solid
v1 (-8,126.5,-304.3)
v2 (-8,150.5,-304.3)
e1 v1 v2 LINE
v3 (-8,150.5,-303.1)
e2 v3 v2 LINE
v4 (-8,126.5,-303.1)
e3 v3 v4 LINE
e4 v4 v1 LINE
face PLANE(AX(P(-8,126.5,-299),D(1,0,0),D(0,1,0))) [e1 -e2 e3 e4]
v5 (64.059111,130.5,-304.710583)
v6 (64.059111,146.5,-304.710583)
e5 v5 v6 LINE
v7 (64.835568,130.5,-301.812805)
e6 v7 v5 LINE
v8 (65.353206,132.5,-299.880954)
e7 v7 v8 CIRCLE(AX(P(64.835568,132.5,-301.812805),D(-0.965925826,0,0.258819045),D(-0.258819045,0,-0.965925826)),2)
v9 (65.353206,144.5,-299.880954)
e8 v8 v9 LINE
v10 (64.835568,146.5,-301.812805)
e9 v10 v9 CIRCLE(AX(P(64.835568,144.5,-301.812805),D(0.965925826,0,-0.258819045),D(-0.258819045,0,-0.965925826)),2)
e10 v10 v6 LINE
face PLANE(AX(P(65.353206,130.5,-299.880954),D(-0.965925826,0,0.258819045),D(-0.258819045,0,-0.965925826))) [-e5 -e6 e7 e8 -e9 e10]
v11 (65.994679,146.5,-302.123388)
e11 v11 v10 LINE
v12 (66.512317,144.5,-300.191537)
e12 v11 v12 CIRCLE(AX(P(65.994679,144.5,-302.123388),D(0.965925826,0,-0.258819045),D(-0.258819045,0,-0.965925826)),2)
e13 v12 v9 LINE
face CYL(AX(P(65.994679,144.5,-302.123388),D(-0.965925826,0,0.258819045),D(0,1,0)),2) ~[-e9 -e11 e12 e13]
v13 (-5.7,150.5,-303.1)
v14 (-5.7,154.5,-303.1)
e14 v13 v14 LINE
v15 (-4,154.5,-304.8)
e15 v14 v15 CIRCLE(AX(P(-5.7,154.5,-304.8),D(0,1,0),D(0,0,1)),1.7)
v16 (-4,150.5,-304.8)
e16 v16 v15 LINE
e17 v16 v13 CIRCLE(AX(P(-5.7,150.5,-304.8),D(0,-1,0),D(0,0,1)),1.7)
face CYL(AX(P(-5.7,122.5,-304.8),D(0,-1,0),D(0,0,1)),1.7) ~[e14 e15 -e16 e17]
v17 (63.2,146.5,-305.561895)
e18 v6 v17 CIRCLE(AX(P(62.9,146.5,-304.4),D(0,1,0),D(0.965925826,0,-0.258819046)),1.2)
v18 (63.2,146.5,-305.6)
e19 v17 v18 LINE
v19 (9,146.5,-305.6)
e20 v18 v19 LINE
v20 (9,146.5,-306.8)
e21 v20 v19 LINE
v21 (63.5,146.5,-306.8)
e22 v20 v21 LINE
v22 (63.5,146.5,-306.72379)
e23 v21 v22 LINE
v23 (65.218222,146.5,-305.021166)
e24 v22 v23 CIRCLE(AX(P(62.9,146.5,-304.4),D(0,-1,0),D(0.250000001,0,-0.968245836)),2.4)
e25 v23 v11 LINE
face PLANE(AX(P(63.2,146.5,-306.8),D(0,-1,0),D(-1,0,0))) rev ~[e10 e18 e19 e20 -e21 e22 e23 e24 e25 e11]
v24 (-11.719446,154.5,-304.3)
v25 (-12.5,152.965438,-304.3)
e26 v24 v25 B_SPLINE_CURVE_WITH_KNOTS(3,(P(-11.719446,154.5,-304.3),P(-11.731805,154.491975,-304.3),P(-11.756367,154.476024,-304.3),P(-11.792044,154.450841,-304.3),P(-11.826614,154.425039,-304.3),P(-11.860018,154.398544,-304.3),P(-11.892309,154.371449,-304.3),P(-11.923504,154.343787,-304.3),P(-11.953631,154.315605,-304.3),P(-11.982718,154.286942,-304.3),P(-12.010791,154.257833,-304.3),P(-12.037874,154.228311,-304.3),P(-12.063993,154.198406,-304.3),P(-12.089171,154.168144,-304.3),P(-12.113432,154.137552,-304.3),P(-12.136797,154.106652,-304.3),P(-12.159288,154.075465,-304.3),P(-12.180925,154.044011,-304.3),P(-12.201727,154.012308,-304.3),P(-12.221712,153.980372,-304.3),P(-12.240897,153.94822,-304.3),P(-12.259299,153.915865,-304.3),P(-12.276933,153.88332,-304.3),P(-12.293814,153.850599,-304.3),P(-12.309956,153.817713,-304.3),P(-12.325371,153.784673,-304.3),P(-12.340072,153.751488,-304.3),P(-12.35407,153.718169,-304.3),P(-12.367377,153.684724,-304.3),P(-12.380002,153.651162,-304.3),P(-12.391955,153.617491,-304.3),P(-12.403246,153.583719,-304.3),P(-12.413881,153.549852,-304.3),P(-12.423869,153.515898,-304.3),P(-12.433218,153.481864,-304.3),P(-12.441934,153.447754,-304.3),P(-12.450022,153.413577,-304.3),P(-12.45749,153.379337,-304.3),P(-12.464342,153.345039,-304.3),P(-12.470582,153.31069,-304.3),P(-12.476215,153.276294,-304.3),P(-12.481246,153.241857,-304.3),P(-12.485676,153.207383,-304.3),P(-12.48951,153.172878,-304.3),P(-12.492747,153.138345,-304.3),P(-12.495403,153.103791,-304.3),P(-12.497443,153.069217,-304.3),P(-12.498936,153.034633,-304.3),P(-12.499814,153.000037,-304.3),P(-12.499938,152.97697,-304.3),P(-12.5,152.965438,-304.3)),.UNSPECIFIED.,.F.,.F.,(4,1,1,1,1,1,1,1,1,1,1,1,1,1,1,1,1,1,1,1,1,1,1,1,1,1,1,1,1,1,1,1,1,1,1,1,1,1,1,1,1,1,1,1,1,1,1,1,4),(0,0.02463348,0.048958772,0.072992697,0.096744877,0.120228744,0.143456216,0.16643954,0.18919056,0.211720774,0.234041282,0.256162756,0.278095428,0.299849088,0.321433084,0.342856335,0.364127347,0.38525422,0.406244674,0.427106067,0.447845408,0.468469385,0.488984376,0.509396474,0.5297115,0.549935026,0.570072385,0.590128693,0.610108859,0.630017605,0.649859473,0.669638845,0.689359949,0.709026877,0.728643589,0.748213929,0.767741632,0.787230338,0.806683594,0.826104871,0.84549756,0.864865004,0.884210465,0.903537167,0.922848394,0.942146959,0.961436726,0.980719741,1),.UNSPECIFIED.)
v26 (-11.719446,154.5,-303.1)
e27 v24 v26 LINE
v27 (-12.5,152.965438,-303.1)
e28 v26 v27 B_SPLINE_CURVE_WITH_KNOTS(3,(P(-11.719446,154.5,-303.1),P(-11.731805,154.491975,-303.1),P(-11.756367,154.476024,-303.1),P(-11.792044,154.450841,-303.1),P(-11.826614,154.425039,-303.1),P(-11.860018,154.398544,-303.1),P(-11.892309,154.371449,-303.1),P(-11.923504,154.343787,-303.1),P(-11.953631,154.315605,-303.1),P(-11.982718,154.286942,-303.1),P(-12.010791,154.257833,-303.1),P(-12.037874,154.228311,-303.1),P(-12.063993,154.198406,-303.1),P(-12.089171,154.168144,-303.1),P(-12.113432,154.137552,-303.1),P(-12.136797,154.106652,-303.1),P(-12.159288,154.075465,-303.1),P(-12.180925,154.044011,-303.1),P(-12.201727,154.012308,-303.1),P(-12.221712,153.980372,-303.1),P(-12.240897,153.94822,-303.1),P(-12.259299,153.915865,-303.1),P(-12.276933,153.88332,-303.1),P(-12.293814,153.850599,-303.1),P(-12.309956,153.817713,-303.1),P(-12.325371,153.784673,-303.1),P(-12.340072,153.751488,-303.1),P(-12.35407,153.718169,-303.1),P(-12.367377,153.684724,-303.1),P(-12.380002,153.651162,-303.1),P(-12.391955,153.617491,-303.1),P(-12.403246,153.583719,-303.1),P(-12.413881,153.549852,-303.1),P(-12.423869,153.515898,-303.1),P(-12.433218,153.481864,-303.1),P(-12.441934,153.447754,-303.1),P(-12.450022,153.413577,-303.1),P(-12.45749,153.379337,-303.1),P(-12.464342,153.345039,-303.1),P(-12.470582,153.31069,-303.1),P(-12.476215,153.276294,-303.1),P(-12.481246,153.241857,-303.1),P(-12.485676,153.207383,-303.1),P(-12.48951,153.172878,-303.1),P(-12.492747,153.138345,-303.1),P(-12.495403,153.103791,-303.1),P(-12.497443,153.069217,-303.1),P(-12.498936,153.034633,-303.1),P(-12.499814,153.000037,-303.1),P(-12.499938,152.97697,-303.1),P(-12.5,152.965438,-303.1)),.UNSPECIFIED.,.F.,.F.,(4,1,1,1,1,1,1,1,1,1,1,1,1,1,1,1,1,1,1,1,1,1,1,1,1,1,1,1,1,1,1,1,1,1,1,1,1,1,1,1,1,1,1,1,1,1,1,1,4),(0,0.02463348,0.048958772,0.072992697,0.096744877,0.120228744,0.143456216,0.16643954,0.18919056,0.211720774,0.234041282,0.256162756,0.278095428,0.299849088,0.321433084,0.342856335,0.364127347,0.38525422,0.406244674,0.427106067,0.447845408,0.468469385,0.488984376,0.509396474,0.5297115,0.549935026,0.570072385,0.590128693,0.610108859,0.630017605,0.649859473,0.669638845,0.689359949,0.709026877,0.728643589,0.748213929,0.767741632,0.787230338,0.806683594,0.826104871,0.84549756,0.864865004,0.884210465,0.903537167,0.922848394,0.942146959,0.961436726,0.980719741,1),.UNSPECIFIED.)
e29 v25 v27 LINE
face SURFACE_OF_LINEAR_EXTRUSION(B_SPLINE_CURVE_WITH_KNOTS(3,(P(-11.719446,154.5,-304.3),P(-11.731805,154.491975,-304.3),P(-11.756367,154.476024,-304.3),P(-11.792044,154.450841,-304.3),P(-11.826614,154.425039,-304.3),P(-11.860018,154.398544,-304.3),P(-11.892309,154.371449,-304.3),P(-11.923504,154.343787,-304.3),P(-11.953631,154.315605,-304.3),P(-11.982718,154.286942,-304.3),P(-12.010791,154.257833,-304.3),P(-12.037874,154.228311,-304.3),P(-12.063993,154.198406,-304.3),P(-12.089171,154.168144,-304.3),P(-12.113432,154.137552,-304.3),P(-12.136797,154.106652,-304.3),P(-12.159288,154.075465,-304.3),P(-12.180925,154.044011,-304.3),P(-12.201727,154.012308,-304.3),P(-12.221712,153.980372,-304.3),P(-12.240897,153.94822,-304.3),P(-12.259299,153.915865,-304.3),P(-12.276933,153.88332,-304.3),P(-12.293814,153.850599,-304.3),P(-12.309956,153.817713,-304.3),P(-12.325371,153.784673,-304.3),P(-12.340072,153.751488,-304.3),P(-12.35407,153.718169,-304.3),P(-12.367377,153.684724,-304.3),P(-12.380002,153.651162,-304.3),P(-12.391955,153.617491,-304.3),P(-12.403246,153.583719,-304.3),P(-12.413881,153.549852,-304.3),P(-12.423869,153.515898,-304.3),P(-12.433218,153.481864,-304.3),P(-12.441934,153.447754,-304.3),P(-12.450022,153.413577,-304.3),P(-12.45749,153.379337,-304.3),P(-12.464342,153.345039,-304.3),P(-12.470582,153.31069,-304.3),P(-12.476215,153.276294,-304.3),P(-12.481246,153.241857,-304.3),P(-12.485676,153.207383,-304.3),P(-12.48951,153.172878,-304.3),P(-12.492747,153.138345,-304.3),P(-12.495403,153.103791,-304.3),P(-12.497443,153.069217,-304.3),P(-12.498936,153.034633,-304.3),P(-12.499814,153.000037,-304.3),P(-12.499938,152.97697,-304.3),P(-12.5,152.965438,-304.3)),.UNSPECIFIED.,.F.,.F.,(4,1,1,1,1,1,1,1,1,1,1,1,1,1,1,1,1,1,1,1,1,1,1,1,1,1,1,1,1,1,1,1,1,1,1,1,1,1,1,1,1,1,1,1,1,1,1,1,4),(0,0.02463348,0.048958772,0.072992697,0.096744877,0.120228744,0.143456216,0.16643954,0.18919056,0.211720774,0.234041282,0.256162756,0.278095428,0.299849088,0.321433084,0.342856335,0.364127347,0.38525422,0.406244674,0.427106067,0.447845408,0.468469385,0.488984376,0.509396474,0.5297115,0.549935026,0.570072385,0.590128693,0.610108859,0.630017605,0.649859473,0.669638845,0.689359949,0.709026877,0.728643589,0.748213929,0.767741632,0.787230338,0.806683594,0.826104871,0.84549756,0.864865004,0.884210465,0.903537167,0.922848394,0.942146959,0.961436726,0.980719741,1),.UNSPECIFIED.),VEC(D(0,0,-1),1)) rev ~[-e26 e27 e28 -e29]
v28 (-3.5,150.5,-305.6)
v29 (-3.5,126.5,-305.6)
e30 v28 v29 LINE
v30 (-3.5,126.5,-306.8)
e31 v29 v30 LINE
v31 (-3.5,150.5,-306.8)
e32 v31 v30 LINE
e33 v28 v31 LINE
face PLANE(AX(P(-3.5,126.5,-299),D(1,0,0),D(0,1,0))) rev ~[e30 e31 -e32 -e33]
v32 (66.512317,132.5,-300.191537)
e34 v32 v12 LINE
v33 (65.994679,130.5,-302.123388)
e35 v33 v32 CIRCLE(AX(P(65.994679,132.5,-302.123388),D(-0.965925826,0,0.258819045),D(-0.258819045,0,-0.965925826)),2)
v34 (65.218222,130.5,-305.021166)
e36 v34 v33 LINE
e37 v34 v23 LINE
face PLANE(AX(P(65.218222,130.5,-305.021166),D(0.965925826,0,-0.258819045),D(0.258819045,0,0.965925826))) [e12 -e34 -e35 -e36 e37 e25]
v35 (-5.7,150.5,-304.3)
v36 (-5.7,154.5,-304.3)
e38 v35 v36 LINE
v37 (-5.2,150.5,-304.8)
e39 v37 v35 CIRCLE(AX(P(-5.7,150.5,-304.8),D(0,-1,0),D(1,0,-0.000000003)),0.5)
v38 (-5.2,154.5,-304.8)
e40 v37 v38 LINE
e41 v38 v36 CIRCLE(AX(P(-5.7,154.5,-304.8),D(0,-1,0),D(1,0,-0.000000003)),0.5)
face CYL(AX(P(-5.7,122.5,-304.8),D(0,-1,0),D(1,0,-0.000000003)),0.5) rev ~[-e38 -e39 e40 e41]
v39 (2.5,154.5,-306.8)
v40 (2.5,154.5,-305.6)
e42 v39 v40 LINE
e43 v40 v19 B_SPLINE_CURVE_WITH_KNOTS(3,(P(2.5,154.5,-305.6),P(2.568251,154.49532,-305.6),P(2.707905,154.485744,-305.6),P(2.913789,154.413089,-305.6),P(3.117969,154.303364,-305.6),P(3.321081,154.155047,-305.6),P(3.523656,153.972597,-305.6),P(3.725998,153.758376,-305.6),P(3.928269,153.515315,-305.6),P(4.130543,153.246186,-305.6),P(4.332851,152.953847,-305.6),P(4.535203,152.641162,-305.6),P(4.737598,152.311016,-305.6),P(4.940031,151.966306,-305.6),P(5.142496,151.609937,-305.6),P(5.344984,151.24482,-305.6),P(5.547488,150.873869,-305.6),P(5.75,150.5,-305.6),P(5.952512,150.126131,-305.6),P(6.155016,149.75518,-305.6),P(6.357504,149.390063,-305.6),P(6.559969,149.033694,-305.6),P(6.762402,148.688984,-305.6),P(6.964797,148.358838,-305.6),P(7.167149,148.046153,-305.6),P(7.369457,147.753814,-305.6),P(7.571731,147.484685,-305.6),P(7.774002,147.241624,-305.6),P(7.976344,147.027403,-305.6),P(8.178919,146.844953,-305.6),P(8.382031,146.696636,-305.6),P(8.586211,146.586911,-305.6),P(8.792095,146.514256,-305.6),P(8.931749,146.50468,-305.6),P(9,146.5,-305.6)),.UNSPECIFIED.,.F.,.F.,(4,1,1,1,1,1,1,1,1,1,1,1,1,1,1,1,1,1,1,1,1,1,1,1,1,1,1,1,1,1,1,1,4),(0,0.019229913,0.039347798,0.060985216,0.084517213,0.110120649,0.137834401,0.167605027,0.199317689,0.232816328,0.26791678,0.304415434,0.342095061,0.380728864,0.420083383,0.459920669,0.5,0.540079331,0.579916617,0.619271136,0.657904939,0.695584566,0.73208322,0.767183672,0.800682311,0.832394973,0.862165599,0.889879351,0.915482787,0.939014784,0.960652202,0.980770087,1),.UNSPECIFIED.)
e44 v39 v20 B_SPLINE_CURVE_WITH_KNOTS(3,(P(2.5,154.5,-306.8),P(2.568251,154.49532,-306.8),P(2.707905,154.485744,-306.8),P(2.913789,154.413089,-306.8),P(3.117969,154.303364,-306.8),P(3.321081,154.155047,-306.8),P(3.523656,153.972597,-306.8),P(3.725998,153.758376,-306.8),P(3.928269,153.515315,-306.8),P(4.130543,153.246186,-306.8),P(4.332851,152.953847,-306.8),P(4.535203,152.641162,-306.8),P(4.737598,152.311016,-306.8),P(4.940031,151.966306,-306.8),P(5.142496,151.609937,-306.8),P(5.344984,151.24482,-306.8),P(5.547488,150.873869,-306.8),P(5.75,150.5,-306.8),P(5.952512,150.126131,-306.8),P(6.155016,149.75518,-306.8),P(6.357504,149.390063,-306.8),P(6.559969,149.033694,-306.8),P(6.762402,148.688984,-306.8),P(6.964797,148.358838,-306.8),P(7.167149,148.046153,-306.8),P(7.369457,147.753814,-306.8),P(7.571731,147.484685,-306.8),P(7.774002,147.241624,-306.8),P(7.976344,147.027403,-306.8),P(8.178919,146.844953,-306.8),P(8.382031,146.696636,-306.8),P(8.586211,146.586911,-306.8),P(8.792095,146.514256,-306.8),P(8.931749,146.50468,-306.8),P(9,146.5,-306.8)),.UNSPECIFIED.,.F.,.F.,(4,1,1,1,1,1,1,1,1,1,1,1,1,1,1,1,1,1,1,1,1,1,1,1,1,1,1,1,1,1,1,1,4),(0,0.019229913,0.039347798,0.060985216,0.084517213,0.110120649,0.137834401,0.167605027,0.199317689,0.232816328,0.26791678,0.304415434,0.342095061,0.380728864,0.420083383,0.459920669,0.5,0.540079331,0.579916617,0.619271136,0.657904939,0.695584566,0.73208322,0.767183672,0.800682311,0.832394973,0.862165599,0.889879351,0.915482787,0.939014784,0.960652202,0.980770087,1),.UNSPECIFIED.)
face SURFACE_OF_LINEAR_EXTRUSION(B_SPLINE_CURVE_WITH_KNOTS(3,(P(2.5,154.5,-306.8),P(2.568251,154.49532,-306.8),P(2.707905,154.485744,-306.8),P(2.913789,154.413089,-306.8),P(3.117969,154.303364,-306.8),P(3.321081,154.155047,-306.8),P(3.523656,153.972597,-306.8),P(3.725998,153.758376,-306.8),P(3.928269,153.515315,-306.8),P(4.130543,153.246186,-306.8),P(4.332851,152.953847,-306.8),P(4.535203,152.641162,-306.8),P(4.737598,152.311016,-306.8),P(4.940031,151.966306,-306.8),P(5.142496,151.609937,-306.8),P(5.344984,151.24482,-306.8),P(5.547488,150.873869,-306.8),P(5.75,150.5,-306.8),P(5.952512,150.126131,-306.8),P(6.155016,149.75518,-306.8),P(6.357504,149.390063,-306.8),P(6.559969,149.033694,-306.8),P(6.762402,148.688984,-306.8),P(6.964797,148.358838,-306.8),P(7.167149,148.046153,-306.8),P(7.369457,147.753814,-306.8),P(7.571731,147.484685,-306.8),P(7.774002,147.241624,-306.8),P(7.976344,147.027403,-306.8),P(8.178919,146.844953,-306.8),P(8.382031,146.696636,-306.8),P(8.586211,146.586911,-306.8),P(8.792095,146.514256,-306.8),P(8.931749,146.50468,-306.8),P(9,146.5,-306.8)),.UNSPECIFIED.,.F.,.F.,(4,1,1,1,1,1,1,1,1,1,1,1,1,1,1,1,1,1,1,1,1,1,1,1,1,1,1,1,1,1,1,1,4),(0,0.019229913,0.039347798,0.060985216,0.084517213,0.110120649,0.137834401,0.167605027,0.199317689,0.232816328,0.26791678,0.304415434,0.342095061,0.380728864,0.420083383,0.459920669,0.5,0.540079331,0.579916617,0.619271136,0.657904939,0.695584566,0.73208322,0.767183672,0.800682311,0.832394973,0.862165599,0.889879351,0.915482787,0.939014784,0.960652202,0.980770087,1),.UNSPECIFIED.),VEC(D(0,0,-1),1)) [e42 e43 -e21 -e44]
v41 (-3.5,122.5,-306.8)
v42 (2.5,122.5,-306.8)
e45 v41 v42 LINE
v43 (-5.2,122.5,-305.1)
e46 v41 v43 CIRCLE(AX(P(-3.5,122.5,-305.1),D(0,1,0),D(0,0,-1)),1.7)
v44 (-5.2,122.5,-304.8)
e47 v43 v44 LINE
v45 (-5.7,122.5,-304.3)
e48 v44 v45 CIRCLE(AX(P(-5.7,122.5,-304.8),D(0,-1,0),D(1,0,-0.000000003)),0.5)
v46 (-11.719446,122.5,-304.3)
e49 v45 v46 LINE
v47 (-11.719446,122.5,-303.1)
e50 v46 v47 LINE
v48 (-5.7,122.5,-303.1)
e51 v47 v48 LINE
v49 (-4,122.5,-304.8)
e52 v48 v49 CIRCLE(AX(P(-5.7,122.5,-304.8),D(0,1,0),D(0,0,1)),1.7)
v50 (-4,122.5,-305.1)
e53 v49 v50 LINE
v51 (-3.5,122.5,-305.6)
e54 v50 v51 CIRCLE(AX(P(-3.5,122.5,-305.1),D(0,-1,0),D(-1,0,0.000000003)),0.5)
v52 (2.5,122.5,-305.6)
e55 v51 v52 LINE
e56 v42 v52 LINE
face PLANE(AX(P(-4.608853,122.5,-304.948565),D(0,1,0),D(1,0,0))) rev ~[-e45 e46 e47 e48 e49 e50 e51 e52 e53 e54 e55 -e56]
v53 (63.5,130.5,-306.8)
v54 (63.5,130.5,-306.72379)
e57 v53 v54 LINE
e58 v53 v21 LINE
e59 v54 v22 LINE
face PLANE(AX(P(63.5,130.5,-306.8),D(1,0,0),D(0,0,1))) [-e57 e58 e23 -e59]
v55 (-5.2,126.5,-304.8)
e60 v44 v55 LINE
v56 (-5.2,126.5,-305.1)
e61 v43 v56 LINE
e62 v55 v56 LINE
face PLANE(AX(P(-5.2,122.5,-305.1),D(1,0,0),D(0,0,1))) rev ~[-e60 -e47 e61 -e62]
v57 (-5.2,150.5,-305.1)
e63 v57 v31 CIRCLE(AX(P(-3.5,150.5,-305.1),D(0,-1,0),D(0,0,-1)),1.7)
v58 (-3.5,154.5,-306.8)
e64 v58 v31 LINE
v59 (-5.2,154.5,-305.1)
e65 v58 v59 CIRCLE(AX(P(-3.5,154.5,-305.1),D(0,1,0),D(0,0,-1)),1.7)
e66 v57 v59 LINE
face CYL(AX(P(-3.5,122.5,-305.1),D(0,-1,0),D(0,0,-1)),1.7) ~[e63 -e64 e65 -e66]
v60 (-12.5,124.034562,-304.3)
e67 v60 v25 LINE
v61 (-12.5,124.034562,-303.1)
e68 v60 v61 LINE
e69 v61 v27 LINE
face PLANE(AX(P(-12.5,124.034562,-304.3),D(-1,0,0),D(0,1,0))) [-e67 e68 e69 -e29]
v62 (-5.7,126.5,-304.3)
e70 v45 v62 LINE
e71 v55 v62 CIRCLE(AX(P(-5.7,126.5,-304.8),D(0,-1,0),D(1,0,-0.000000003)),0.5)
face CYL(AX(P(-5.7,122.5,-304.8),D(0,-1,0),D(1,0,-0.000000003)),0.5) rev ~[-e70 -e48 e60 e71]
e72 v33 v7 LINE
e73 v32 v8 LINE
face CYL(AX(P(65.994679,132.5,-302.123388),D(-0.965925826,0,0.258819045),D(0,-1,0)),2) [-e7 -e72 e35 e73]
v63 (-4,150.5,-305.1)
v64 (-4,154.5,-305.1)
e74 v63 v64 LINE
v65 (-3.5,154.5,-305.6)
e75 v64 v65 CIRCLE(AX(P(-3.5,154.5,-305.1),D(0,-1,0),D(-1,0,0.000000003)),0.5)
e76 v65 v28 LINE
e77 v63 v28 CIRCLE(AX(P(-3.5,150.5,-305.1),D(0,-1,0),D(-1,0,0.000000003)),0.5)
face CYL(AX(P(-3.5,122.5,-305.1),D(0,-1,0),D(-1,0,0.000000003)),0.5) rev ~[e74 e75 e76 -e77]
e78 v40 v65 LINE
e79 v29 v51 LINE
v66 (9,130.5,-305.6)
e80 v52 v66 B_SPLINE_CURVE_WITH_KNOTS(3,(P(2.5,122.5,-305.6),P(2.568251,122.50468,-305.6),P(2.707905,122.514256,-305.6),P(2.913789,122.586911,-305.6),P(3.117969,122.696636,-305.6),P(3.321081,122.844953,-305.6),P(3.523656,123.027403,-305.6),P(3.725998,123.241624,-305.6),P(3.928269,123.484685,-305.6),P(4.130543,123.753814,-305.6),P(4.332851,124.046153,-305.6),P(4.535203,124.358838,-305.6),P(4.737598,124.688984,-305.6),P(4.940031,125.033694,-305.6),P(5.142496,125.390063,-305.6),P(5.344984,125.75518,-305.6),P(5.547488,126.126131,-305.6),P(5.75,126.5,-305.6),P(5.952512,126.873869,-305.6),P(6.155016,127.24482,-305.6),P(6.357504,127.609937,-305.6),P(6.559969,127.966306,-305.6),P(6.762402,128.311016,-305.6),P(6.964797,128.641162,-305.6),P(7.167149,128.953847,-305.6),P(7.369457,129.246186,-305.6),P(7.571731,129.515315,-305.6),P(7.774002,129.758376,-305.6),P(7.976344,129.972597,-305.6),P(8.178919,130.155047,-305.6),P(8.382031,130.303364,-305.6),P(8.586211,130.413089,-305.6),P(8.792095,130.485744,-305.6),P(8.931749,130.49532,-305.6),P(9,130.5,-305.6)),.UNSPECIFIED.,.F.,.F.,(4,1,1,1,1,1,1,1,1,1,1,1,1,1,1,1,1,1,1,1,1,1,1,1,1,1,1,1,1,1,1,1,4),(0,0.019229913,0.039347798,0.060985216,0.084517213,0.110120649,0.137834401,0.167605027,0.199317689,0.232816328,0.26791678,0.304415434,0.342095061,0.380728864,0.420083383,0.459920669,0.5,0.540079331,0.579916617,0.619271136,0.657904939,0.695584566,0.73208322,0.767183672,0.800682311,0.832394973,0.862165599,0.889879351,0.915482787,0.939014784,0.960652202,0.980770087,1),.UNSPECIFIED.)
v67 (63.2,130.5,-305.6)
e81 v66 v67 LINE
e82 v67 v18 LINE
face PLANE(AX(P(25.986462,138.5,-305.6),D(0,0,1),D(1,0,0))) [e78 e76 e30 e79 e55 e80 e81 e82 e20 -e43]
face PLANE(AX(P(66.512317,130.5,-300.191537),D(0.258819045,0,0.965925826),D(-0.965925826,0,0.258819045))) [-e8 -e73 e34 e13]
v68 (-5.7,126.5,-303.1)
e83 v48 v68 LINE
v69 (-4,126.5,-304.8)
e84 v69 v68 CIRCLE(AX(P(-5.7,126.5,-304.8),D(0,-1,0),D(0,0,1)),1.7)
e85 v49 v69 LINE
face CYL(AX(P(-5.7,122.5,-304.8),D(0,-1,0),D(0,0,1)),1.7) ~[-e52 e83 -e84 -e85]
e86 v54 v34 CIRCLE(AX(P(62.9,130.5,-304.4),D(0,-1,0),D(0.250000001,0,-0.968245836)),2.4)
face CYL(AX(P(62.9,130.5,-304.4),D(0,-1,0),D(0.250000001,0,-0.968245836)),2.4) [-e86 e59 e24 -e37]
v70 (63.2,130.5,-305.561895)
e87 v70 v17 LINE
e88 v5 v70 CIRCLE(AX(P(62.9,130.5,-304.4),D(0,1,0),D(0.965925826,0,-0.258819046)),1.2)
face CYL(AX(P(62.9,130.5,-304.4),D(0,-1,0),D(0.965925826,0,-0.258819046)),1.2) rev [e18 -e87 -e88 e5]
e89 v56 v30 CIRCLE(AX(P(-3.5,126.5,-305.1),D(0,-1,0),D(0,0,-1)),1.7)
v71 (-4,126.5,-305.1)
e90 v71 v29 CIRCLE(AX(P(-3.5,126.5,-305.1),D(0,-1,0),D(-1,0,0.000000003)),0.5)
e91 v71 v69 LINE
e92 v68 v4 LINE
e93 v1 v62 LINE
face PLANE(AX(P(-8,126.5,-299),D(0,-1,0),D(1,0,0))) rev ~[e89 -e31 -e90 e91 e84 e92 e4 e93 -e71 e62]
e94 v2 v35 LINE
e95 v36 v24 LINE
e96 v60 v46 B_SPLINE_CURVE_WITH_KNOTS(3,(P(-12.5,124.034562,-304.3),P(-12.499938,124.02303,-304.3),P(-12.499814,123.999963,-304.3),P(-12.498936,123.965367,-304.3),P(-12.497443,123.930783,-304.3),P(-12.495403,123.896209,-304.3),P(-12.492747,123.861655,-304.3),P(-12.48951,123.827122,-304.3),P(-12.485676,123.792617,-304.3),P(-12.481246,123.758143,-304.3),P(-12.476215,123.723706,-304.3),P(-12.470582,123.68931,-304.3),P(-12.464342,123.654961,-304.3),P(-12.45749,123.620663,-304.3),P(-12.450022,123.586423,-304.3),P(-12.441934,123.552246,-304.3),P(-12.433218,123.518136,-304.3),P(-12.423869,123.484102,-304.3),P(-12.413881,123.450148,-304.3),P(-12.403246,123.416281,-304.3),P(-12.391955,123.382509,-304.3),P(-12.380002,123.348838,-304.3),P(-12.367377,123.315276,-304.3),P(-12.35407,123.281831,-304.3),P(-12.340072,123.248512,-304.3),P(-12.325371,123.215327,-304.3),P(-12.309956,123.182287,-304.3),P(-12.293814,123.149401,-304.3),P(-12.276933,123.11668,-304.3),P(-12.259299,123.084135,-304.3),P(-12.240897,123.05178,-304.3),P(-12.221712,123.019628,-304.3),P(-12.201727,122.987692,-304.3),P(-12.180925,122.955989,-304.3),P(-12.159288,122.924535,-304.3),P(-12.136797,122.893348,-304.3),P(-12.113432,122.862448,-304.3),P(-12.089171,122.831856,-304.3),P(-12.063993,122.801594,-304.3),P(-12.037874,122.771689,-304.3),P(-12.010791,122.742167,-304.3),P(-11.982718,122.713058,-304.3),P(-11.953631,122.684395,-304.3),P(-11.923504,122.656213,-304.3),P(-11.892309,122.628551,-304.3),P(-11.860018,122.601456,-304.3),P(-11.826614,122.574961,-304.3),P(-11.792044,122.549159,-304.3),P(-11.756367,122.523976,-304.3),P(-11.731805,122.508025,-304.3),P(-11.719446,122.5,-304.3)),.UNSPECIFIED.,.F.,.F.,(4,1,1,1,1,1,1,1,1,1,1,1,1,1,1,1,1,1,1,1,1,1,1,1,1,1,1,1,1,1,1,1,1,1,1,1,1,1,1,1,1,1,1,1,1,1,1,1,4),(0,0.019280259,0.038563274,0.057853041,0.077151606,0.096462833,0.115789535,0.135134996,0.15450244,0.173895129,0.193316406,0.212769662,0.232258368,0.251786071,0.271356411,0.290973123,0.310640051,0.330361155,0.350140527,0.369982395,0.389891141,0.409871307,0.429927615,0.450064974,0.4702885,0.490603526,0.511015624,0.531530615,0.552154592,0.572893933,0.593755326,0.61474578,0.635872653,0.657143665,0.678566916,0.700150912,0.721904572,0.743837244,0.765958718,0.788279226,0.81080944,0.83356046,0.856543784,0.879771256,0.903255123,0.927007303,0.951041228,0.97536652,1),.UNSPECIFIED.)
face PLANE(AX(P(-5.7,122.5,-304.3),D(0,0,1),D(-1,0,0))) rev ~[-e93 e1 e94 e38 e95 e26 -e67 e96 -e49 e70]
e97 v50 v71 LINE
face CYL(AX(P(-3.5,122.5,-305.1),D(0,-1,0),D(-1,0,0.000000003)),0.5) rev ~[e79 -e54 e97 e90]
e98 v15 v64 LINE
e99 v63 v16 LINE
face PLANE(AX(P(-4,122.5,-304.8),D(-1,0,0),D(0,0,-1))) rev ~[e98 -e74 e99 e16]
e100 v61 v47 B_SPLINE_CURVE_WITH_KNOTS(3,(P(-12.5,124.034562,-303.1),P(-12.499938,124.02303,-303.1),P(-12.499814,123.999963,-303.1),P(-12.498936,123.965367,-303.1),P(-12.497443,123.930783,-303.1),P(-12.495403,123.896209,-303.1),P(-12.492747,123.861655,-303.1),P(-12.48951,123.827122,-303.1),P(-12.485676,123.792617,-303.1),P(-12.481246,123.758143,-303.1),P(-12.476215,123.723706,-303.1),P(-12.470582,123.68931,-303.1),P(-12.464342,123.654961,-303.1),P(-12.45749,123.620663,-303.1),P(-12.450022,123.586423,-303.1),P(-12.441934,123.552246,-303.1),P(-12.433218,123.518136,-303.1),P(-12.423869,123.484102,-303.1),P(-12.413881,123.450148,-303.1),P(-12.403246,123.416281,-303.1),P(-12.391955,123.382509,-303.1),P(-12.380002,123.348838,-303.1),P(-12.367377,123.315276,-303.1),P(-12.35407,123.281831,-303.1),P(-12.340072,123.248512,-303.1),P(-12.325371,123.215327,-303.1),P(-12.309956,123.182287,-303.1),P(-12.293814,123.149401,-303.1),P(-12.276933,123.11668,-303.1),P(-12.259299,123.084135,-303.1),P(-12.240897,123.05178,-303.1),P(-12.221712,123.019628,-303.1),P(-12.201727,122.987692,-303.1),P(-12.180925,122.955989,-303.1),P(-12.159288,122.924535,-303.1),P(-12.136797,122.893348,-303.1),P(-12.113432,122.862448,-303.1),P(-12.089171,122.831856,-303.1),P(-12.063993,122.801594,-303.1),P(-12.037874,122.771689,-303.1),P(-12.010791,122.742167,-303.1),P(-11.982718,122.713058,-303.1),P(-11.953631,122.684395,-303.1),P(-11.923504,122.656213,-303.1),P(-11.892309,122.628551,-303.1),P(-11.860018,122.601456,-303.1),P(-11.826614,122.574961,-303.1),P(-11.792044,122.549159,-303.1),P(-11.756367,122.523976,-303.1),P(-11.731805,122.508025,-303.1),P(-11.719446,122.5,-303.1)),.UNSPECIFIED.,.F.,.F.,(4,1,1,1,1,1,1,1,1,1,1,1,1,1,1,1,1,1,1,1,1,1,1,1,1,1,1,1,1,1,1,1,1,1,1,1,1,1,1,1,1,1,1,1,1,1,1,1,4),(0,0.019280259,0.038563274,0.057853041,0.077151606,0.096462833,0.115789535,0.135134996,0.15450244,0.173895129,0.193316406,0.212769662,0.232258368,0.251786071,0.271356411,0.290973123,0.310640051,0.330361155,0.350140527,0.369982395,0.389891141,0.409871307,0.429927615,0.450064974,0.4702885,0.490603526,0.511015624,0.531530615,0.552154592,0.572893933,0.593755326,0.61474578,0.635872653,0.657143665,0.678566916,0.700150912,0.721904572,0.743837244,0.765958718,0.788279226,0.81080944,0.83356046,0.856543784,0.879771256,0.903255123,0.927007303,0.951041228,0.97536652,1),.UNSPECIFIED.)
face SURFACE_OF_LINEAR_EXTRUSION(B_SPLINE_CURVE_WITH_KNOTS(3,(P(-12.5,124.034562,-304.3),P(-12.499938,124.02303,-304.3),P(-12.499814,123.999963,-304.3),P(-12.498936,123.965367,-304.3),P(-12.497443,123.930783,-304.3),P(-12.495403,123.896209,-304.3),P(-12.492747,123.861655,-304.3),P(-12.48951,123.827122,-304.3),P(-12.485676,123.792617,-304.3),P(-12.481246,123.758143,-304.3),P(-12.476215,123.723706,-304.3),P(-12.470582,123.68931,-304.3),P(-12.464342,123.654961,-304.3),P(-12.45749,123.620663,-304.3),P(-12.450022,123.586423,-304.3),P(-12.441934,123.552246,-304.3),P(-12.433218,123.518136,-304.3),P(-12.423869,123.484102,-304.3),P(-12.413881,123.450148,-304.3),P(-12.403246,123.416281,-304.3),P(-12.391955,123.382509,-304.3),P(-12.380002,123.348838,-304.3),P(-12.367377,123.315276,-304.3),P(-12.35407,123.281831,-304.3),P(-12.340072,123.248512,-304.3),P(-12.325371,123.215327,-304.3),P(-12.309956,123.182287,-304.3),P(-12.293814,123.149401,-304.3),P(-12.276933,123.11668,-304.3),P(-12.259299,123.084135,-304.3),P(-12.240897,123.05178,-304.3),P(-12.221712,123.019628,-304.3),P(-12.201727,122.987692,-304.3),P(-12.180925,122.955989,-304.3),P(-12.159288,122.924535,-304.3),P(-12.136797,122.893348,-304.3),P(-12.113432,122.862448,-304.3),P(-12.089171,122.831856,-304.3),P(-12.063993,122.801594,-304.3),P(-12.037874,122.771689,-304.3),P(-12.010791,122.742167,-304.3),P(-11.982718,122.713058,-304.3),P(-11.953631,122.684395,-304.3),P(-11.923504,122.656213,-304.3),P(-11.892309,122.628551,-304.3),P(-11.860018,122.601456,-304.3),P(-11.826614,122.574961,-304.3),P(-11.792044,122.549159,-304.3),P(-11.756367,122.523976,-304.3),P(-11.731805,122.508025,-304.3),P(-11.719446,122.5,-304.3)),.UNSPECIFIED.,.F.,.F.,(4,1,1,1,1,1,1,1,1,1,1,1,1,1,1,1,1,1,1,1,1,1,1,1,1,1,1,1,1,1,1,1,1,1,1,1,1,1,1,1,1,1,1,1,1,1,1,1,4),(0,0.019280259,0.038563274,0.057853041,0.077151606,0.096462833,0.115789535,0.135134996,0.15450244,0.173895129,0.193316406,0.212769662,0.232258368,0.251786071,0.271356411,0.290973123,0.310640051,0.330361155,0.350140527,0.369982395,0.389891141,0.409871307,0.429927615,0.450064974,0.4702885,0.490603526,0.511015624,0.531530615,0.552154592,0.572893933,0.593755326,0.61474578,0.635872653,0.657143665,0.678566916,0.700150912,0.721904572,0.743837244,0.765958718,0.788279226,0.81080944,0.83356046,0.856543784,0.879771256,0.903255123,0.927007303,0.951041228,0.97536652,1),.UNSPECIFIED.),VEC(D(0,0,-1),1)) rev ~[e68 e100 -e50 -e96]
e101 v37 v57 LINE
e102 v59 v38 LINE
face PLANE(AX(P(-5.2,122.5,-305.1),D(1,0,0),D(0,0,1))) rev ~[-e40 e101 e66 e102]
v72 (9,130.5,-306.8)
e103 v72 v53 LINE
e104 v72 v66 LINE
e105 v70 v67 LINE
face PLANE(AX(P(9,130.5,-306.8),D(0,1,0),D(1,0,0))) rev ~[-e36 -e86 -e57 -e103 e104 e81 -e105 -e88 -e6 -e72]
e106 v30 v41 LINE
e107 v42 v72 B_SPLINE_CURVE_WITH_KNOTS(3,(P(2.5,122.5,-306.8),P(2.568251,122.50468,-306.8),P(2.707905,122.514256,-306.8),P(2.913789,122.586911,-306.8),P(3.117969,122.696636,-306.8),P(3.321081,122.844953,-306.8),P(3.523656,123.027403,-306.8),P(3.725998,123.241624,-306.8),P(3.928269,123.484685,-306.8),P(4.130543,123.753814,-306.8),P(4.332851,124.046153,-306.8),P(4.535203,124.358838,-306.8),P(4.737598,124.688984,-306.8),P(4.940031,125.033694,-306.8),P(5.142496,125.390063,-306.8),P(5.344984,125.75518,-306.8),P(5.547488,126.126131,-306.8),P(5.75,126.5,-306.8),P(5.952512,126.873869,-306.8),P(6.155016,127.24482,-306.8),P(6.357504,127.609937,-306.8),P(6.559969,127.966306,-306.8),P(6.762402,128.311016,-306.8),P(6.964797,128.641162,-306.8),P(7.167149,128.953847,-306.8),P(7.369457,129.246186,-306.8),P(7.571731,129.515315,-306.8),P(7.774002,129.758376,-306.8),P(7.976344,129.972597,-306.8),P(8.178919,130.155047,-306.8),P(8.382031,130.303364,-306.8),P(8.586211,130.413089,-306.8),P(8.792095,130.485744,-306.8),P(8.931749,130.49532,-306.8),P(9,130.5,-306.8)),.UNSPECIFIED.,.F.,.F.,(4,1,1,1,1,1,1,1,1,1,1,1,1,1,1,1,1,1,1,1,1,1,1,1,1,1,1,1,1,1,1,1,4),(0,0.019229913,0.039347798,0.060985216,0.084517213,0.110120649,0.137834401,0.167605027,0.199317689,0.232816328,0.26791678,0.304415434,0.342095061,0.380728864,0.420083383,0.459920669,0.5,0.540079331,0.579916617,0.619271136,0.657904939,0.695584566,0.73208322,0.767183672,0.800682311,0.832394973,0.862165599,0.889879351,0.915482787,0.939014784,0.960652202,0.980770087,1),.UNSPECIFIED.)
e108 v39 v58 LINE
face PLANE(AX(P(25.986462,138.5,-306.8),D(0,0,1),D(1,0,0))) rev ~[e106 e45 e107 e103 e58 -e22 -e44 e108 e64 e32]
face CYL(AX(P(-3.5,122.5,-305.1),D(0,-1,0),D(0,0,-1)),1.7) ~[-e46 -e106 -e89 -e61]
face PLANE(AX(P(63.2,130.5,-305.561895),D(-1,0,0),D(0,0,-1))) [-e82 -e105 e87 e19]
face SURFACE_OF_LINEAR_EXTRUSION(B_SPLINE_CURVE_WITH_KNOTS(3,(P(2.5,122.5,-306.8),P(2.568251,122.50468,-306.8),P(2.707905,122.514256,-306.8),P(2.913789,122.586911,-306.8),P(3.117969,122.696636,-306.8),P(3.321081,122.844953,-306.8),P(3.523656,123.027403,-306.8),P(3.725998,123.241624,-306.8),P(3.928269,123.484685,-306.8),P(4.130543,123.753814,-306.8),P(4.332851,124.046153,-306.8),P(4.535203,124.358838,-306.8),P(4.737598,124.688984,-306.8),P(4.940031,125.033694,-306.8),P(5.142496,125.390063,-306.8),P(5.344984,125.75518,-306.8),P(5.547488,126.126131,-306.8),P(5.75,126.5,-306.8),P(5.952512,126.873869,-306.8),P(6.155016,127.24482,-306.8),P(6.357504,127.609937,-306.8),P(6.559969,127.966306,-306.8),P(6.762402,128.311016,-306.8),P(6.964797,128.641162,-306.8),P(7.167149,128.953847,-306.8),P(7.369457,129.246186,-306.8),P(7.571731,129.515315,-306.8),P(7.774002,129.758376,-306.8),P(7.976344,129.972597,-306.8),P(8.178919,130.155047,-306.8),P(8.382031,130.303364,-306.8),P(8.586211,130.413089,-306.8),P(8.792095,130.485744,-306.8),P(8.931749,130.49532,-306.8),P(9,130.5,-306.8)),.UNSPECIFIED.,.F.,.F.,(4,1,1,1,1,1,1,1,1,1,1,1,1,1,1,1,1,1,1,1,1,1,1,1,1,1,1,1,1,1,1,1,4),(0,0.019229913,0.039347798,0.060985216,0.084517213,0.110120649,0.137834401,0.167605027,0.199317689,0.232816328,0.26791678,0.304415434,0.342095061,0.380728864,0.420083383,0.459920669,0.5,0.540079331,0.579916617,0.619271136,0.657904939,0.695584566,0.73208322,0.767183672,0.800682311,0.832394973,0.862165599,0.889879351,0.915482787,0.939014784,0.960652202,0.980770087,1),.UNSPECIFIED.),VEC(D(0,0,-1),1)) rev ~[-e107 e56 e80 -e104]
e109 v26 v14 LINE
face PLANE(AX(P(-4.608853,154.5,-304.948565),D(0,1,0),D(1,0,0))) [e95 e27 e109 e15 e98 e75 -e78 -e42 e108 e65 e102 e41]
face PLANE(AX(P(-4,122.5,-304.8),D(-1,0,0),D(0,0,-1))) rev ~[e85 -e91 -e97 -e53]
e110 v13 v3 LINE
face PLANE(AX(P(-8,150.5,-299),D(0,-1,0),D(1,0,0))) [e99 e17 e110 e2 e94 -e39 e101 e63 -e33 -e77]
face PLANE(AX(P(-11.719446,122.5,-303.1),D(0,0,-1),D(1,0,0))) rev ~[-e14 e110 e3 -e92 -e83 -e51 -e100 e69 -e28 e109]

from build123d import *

# Parameters (mm, degrees)
EXTRUDE_1_2_DEPTH    = 1.2
EXTRUDE_16_DEPTH     = 16
EXTRUDE_32_DEPTH     = 32
SKETCH_24_138_5_W    = 4.5
SKETCH_24_138_5_H    = 24
CUT_EXTRUDE_24_DEPTH = 20
EXTRUDE_884_DEPTH    = 1.2
FILLET_R2_R          = 2


with BuildPart() as part:
    # 草图_平板外形_总宽32_舌宽16_对称过渡 → 拉伸_板厚1点2 (new body)
    with BuildSketch(Plane.XY.offset(-306.8)):
        with BuildLine():
            Line((-3.5, 122.5), (2.5, 122.5))
            add(Edge.make_bspline(
                [(2.5, 122.5), (2.568251017, 122.504680022), (2.707904652, 122.514256172), (2.913789315, 122.58691144), (3.117968932, 122.696636373), (3.321081083, 122.844952736), (3.523655529, 123.027402997), (3.725998426, 123.241623536), (3.928269446, 123.484685473), (4.130543205, 123.753813901), (4.33285106, 124.046152711), (4.53520279, 124.358837958), (4.737597952, 124.688983876), (4.940031434, 125.033693923), (5.142496177, 125.390062896), (5.344984435, 125.755180133), (5.547488324, 126.126131323), (5.75, 126.5), (5.952511676, 126.873868677), (6.155015565, 127.244819867), (6.357503823, 127.609937104), (6.559968566, 127.966306077), (6.762402048, 128.311016124), (6.96479721, 128.641162042), (7.16714894, 128.953847289), (7.369456795, 129.246186099), (7.571730554, 129.515314527), (7.774001574, 129.758376464), (7.976344471, 129.972597003), (8.178918917, 130.155047264), (8.382031068, 130.303363627), (8.586210685, 130.41308856), (8.792095348, 130.485743828), (8.931748983, 130.495319978), (9, 130.5)],
                knots=[0, 0, 0, 0, 0.019229913, 0.039347798, 0.060985216, 0.084517213, 0.110120649, 0.137834401, 0.167605027, 0.199317689, 0.232816328, 0.26791678, 0.304415434, 0.342095061, 0.380728864, 0.420083383, 0.459920669, 0.5, 0.540079331, 0.579916617, 0.619271136, 0.657904939, 0.695584566, 0.73208322, 0.767183672, 0.800682311, 0.832394973, 0.862165599, 0.889879351, 0.915482787, 0.939014784, 0.960652202, 0.980770087, 1, 1, 1, 1], degree=3))
            Line((9, 130.5), (63.2, 130.5))
            Line((63.2, 130.5), (63.2, 146.5))
            Line((63.2, 146.5), (9, 146.5))
            add(Edge.make_bspline(
                [(2.5, 154.5), (2.568251017, 154.495319978), (2.707904652, 154.485743828), (2.913789315, 154.41308856), (3.117968932, 154.303363627), (3.321081083, 154.155047264), (3.523655529, 153.972597003), (3.725998426, 153.758376464), (3.928269446, 153.515314527), (4.130543205, 153.246186099), (4.33285106, 152.953847289), (4.53520279, 152.641162042), (4.737597952, 152.311016124), (4.940031434, 151.966306077), (5.142496177, 151.609937104), (5.344984435, 151.244819867), (5.547488324, 150.873868677), (5.75, 150.5), (5.952511676, 150.126131323), (6.155015565, 149.755180133), (6.357503823, 149.390062896), (6.559968566, 149.033693923), (6.762402048, 148.688983876), (6.96479721, 148.358837958), (7.16714894, 148.046152711), (7.369456795, 147.753813901), (7.571730554, 147.484685473), (7.774001574, 147.241623536), (7.976344471, 147.027402997), (8.178918917, 146.844952736), (8.382031068, 146.696636373), (8.586210685, 146.58691144), (8.792095348, 146.514256172), (8.931748983, 146.504680022), (9, 146.5)],
                knots=[0, 0, 0, 0, 0.019229913, 0.039347798, 0.060985216, 0.084517213, 0.110120649, 0.137834401, 0.167605027, 0.199317689, 0.232816328, 0.26791678, 0.304415434, 0.342095061, 0.380728864, 0.420083383, 0.459920669, 0.5, 0.540079331, 0.579916617, 0.619271136, 0.657904939, 0.695584566, 0.73208322, 0.767183672, 0.800682311, 0.832394973, 0.862165599, 0.889879351, 0.915482787, 0.939014784, 0.960652202, 0.980770087, 1, 1, 1, 1], degree=3))
            Line((2.5, 154.5), (-3.5, 154.5))
            Line((-3.5, 154.5), (-3.5, 122.5))
        make_face()
    extrude(amount=EXTRUDE_1_2_DEPTH)

    # Sketch 429 → 拉伸_舌宽16 (add)
    with BuildSketch(Plane(origin=(0, 130.5, 0), x_dir=(1, 0, 0), z_dir=(0, 1, 0))):
        with BuildLine():
            Line((9, 306.8), (63.5, 306.8))
            Line((63.5, 306.8), (63.5, 306.723790008))
            ThreePointArc((63.5, 306.723790008), (64.58930082, 306.104776448), (65.218221983, 305.021165708))
            Line((65.218221983, 305.021165708), (66.512317209, 300.191536577))
            Line((66.512317209, 300.191536577), (65.353206217, 299.880953723))
            Line((65.353206217, 299.880953723), (64.059110992, 304.710582854))
            ThreePointArc((64.059110992, 304.710582854), (63.74465041, 305.252388224), (63.2, 305.561895004))
            Line((63.2, 305.561895004), (63.2, 305.6))
            Line((63.2, 305.6), (9, 305.6))
            Line((9, 305.6), (9, 306.8))
        make_face()
    extrude(amount=EXTRUDE_16_DEPTH)

    # Sketch 524 → 拉伸_头部总宽32 (add)
    with BuildSketch(Plane(origin=(0, 122.5, 0), x_dir=(1, 0, 0), z_dir=(0, 1, 0))):
        with BuildLine():
            Line((-5.7, 304.3), (-11.71944631, 304.3))
            Line((-11.71944631, 304.3), (-11.71944631, 303.1))
            Line((-11.71944631, 303.1), (-5.7, 303.1))
            ThreePointArc((-5.7, 303.1), (-4.497918472, 303.597918472), (-4, 304.8))
            Line((-4, 304.8), (-4, 305.1))
            ThreePointArc((-4, 305.1), (-3.853553391, 305.453553391), (-3.5, 305.6))
            Line((-3.5, 305.6), (2.5, 305.6))
            Line((2.5, 305.6), (2.5, 306.8))
            Line((2.5, 306.8), (-3.5, 306.8))
            ThreePointArc((-3.5, 306.8), (-4.702081528, 306.302081528), (-5.2, 305.1))
            Line((-5.2, 305.1), (-5.2, 304.8))
            ThreePointArc((-5.2, 304.8), (-5.346446609, 304.446446609), (-5.7, 304.3))
        make_face()
    extrude(amount=EXTRUDE_32_DEPTH)

    # 草图_榫槽净宽24_中线138点5 → 切除_榫槽24 (cut)
    with BuildSketch(Plane.XY.offset(-299)):
        with Locations((-5.75, 138.5)):
            Rectangle(SKETCH_24_138_5_W, SKETCH_24_138_5_H)
    extrude(amount=-CUT_EXTRUDE_24_DEPTH, mode=Mode.SUBTRACT)

    # 草图_头部完整外形_总宽32_槽24 → Extrude 884 (add)
    with BuildSketch(Plane.XY.offset(-304.3)):
        with BuildLine():
            Line((-5.7, 154.5), (-5.7, 150.5))
            Line((-5.7, 150.5), (-8, 150.5))
            Line((-8, 150.5), (-8, 126.5))
            Line((-8, 126.5), (-5.7, 126.5))
            Line((-5.7, 126.5), (-5.7, 122.5))
            Line((-5.7, 122.5), (-11.71944631, 122.5))
            add(Edge.make_bspline(
                [(-12.5, 124.034562212), (-12.499938159, 124.023029786), (-12.499814468, 123.999963286), (-12.498936319, 123.965367365), (-12.497443181, 123.93078278), (-12.495403218, 123.896208954), (-12.492747447, 123.861654709), (-12.489510446, 123.827122022), (-12.485676021, 123.792616625), (-12.481245518, 123.758142921), (-12.476215317, 123.723705745), (-12.47058192, 123.689310059), (-12.464341601, 123.654960897), (-12.457490017, 123.620663481), (-12.450022451, 123.586423185), (-12.441933692, 123.552245581), (-12.433218056, 123.518136449), (-12.423869366, 123.484101803), (-12.413880931, 123.450147918), (-12.403245533, 123.416281356), (-12.391955405, 123.382508994), (-12.380002212, 123.348838059), (-12.367377024, 123.31527616), (-12.354070301, 123.281831329), (-12.340071858, 123.248512061), (-12.325370845, 123.215327364), (-12.309955716, 123.182286805), (-12.293814204, 123.149400568), (-12.276933286, 123.116679519), (-12.259299156, 123.08413527), (-12.240897191, 123.05178026), (-12.221711924, 123.019627836), (-12.201727007, 122.987692349), (-12.180925191, 122.955989258), (-12.159288292, 122.92453525), (-12.136797175, 122.893348363), (-12.113431735, 122.862448139), (-12.089170893, 122.831855779), (-12.063992595, 122.801594323), (-12.037873835, 122.771688857), (-12.010790698, 122.742166721), (-11.982718406, 122.713057784), (-11.953631496, 122.684394601), (-11.923503642, 122.656213171), (-11.892309147, 122.628551369), (-11.860018463, 122.601456324), (-11.826614179, 122.574961378), (-11.792043997, 122.549159388), (-11.756366816, 122.523975845), (-11.731804684, 122.508025417), (-11.71944631, 122.5)],
                knots=[0, 0, 0, 0, 0.019280259, 0.038563274, 0.057853041, 0.077151606, 0.096462833, 0.115789535, 0.135134996, 0.15450244, 0.173895129, 0.193316406, 0.212769662, 0.232258368, 0.251786071, 0.271356411, 0.290973123, 0.310640051, 0.330361155, 0.350140527, 0.369982395, 0.389891141, 0.409871307, 0.429927615, 0.450064974, 0.4702885, 0.490603526, 0.511015624, 0.531530615, 0.552154592, 0.572893933, 0.593755326, 0.61474578, 0.635872653, 0.657143665, 0.678566916, 0.700150912, 0.721904572, 0.743837244, 0.765958718, 0.788279226, 0.81080944, 0.83356046, 0.856543784, 0.879771256, 0.903255123, 0.927007303, 0.951041228, 0.97536652, 1, 1, 1, 1], degree=3))
            Line((-12.5, 124.034562212), (-12.5, 152.965437788))
            add(Edge.make_bspline(
                [(-11.71944631, 154.5), (-11.731804684, 154.491974583), (-11.756366816, 154.476024155), (-11.792043997, 154.450840612), (-11.826614179, 154.425038622), (-11.860018463, 154.398543676), (-11.892309147, 154.371448631), (-11.923503642, 154.343786829), (-11.953631496, 154.315605399), (-11.982718406, 154.286942216), (-12.010790698, 154.257833279), (-12.037873835, 154.228311143), (-12.063992595, 154.198405677), (-12.089170893, 154.168144221), (-12.113431735, 154.137551861), (-12.136797175, 154.106651637), (-12.159288292, 154.07546475), (-12.180925191, 154.044010742), (-12.201727007, 154.012307651), (-12.221711924, 153.980372164), (-12.240897191, 153.94821974), (-12.259299156, 153.91586473), (-12.276933286, 153.883320481), (-12.293814204, 153.850599432), (-12.309955716, 153.817713195), (-12.325370845, 153.784672636), (-12.340071858, 153.751487939), (-12.354070301, 153.718168671), (-12.367377024, 153.68472384), (-12.380002212, 153.651161941), (-12.391955405, 153.617491006), (-12.403245533, 153.583718644), (-12.413880931, 153.549852082), (-12.423869366, 153.515898197), (-12.433218056, 153.481863551), (-12.441933692, 153.447754419), (-12.450022451, 153.413576815), (-12.457490017, 153.379336519), (-12.464341601, 153.345039103), (-12.47058192, 153.310689941), (-12.476215317, 153.276294255), (-12.481245518, 153.241857079), (-12.485676021, 153.207383375), (-12.489510446, 153.172877978), (-12.492747447, 153.138345291), (-12.495403218, 153.103791046), (-12.497443181, 153.06921722), (-12.498936319, 153.034632635), (-12.499814468, 153.000036714), (-12.499938159, 152.976970214), (-12.5, 152.965437788)],
                knots=[0, 0, 0, 0, 0.02463348, 0.048958772, 0.072992697, 0.096744877, 0.120228744, 0.143456216, 0.16643954, 0.18919056, 0.211720774, 0.234041282, 0.256162756, 0.278095428, 0.299849088, 0.321433084, 0.342856335, 0.364127347, 0.38525422, 0.406244674, 0.427106067, 0.447845408, 0.468469385, 0.488984376, 0.509396474, 0.5297115, 0.549935026, 0.570072385, 0.590128693, 0.610108859, 0.630017605, 0.649859473, 0.669638845, 0.689359949, 0.709026877, 0.728643589, 0.748213929, 0.767741632, 0.787230338, 0.806683594, 0.826104871, 0.84549756, 0.864865004, 0.884210465, 0.903537167, 0.922848394, 0.942146959, 0.961436726, 0.980719741, 1, 1, 1, 1], degree=3))
            Line((-11.71944631, 154.5), (-5.7, 154.5))
        make_face()
    extrude(amount=EXTRUDE_884_DEPTH)

    # 圆角_舌片上下端角_R2
    fillet_r2_edges = [part.edges().sort_by_distance(p)[0] for p in [
        (65.932761713, 146.5, -300.03624515),
        (65.932761713, 130.5, -300.03624515),
    ]]
    fillet(fillet_r2_edges, radius=FILLET_R2_R)


solid = part.part
